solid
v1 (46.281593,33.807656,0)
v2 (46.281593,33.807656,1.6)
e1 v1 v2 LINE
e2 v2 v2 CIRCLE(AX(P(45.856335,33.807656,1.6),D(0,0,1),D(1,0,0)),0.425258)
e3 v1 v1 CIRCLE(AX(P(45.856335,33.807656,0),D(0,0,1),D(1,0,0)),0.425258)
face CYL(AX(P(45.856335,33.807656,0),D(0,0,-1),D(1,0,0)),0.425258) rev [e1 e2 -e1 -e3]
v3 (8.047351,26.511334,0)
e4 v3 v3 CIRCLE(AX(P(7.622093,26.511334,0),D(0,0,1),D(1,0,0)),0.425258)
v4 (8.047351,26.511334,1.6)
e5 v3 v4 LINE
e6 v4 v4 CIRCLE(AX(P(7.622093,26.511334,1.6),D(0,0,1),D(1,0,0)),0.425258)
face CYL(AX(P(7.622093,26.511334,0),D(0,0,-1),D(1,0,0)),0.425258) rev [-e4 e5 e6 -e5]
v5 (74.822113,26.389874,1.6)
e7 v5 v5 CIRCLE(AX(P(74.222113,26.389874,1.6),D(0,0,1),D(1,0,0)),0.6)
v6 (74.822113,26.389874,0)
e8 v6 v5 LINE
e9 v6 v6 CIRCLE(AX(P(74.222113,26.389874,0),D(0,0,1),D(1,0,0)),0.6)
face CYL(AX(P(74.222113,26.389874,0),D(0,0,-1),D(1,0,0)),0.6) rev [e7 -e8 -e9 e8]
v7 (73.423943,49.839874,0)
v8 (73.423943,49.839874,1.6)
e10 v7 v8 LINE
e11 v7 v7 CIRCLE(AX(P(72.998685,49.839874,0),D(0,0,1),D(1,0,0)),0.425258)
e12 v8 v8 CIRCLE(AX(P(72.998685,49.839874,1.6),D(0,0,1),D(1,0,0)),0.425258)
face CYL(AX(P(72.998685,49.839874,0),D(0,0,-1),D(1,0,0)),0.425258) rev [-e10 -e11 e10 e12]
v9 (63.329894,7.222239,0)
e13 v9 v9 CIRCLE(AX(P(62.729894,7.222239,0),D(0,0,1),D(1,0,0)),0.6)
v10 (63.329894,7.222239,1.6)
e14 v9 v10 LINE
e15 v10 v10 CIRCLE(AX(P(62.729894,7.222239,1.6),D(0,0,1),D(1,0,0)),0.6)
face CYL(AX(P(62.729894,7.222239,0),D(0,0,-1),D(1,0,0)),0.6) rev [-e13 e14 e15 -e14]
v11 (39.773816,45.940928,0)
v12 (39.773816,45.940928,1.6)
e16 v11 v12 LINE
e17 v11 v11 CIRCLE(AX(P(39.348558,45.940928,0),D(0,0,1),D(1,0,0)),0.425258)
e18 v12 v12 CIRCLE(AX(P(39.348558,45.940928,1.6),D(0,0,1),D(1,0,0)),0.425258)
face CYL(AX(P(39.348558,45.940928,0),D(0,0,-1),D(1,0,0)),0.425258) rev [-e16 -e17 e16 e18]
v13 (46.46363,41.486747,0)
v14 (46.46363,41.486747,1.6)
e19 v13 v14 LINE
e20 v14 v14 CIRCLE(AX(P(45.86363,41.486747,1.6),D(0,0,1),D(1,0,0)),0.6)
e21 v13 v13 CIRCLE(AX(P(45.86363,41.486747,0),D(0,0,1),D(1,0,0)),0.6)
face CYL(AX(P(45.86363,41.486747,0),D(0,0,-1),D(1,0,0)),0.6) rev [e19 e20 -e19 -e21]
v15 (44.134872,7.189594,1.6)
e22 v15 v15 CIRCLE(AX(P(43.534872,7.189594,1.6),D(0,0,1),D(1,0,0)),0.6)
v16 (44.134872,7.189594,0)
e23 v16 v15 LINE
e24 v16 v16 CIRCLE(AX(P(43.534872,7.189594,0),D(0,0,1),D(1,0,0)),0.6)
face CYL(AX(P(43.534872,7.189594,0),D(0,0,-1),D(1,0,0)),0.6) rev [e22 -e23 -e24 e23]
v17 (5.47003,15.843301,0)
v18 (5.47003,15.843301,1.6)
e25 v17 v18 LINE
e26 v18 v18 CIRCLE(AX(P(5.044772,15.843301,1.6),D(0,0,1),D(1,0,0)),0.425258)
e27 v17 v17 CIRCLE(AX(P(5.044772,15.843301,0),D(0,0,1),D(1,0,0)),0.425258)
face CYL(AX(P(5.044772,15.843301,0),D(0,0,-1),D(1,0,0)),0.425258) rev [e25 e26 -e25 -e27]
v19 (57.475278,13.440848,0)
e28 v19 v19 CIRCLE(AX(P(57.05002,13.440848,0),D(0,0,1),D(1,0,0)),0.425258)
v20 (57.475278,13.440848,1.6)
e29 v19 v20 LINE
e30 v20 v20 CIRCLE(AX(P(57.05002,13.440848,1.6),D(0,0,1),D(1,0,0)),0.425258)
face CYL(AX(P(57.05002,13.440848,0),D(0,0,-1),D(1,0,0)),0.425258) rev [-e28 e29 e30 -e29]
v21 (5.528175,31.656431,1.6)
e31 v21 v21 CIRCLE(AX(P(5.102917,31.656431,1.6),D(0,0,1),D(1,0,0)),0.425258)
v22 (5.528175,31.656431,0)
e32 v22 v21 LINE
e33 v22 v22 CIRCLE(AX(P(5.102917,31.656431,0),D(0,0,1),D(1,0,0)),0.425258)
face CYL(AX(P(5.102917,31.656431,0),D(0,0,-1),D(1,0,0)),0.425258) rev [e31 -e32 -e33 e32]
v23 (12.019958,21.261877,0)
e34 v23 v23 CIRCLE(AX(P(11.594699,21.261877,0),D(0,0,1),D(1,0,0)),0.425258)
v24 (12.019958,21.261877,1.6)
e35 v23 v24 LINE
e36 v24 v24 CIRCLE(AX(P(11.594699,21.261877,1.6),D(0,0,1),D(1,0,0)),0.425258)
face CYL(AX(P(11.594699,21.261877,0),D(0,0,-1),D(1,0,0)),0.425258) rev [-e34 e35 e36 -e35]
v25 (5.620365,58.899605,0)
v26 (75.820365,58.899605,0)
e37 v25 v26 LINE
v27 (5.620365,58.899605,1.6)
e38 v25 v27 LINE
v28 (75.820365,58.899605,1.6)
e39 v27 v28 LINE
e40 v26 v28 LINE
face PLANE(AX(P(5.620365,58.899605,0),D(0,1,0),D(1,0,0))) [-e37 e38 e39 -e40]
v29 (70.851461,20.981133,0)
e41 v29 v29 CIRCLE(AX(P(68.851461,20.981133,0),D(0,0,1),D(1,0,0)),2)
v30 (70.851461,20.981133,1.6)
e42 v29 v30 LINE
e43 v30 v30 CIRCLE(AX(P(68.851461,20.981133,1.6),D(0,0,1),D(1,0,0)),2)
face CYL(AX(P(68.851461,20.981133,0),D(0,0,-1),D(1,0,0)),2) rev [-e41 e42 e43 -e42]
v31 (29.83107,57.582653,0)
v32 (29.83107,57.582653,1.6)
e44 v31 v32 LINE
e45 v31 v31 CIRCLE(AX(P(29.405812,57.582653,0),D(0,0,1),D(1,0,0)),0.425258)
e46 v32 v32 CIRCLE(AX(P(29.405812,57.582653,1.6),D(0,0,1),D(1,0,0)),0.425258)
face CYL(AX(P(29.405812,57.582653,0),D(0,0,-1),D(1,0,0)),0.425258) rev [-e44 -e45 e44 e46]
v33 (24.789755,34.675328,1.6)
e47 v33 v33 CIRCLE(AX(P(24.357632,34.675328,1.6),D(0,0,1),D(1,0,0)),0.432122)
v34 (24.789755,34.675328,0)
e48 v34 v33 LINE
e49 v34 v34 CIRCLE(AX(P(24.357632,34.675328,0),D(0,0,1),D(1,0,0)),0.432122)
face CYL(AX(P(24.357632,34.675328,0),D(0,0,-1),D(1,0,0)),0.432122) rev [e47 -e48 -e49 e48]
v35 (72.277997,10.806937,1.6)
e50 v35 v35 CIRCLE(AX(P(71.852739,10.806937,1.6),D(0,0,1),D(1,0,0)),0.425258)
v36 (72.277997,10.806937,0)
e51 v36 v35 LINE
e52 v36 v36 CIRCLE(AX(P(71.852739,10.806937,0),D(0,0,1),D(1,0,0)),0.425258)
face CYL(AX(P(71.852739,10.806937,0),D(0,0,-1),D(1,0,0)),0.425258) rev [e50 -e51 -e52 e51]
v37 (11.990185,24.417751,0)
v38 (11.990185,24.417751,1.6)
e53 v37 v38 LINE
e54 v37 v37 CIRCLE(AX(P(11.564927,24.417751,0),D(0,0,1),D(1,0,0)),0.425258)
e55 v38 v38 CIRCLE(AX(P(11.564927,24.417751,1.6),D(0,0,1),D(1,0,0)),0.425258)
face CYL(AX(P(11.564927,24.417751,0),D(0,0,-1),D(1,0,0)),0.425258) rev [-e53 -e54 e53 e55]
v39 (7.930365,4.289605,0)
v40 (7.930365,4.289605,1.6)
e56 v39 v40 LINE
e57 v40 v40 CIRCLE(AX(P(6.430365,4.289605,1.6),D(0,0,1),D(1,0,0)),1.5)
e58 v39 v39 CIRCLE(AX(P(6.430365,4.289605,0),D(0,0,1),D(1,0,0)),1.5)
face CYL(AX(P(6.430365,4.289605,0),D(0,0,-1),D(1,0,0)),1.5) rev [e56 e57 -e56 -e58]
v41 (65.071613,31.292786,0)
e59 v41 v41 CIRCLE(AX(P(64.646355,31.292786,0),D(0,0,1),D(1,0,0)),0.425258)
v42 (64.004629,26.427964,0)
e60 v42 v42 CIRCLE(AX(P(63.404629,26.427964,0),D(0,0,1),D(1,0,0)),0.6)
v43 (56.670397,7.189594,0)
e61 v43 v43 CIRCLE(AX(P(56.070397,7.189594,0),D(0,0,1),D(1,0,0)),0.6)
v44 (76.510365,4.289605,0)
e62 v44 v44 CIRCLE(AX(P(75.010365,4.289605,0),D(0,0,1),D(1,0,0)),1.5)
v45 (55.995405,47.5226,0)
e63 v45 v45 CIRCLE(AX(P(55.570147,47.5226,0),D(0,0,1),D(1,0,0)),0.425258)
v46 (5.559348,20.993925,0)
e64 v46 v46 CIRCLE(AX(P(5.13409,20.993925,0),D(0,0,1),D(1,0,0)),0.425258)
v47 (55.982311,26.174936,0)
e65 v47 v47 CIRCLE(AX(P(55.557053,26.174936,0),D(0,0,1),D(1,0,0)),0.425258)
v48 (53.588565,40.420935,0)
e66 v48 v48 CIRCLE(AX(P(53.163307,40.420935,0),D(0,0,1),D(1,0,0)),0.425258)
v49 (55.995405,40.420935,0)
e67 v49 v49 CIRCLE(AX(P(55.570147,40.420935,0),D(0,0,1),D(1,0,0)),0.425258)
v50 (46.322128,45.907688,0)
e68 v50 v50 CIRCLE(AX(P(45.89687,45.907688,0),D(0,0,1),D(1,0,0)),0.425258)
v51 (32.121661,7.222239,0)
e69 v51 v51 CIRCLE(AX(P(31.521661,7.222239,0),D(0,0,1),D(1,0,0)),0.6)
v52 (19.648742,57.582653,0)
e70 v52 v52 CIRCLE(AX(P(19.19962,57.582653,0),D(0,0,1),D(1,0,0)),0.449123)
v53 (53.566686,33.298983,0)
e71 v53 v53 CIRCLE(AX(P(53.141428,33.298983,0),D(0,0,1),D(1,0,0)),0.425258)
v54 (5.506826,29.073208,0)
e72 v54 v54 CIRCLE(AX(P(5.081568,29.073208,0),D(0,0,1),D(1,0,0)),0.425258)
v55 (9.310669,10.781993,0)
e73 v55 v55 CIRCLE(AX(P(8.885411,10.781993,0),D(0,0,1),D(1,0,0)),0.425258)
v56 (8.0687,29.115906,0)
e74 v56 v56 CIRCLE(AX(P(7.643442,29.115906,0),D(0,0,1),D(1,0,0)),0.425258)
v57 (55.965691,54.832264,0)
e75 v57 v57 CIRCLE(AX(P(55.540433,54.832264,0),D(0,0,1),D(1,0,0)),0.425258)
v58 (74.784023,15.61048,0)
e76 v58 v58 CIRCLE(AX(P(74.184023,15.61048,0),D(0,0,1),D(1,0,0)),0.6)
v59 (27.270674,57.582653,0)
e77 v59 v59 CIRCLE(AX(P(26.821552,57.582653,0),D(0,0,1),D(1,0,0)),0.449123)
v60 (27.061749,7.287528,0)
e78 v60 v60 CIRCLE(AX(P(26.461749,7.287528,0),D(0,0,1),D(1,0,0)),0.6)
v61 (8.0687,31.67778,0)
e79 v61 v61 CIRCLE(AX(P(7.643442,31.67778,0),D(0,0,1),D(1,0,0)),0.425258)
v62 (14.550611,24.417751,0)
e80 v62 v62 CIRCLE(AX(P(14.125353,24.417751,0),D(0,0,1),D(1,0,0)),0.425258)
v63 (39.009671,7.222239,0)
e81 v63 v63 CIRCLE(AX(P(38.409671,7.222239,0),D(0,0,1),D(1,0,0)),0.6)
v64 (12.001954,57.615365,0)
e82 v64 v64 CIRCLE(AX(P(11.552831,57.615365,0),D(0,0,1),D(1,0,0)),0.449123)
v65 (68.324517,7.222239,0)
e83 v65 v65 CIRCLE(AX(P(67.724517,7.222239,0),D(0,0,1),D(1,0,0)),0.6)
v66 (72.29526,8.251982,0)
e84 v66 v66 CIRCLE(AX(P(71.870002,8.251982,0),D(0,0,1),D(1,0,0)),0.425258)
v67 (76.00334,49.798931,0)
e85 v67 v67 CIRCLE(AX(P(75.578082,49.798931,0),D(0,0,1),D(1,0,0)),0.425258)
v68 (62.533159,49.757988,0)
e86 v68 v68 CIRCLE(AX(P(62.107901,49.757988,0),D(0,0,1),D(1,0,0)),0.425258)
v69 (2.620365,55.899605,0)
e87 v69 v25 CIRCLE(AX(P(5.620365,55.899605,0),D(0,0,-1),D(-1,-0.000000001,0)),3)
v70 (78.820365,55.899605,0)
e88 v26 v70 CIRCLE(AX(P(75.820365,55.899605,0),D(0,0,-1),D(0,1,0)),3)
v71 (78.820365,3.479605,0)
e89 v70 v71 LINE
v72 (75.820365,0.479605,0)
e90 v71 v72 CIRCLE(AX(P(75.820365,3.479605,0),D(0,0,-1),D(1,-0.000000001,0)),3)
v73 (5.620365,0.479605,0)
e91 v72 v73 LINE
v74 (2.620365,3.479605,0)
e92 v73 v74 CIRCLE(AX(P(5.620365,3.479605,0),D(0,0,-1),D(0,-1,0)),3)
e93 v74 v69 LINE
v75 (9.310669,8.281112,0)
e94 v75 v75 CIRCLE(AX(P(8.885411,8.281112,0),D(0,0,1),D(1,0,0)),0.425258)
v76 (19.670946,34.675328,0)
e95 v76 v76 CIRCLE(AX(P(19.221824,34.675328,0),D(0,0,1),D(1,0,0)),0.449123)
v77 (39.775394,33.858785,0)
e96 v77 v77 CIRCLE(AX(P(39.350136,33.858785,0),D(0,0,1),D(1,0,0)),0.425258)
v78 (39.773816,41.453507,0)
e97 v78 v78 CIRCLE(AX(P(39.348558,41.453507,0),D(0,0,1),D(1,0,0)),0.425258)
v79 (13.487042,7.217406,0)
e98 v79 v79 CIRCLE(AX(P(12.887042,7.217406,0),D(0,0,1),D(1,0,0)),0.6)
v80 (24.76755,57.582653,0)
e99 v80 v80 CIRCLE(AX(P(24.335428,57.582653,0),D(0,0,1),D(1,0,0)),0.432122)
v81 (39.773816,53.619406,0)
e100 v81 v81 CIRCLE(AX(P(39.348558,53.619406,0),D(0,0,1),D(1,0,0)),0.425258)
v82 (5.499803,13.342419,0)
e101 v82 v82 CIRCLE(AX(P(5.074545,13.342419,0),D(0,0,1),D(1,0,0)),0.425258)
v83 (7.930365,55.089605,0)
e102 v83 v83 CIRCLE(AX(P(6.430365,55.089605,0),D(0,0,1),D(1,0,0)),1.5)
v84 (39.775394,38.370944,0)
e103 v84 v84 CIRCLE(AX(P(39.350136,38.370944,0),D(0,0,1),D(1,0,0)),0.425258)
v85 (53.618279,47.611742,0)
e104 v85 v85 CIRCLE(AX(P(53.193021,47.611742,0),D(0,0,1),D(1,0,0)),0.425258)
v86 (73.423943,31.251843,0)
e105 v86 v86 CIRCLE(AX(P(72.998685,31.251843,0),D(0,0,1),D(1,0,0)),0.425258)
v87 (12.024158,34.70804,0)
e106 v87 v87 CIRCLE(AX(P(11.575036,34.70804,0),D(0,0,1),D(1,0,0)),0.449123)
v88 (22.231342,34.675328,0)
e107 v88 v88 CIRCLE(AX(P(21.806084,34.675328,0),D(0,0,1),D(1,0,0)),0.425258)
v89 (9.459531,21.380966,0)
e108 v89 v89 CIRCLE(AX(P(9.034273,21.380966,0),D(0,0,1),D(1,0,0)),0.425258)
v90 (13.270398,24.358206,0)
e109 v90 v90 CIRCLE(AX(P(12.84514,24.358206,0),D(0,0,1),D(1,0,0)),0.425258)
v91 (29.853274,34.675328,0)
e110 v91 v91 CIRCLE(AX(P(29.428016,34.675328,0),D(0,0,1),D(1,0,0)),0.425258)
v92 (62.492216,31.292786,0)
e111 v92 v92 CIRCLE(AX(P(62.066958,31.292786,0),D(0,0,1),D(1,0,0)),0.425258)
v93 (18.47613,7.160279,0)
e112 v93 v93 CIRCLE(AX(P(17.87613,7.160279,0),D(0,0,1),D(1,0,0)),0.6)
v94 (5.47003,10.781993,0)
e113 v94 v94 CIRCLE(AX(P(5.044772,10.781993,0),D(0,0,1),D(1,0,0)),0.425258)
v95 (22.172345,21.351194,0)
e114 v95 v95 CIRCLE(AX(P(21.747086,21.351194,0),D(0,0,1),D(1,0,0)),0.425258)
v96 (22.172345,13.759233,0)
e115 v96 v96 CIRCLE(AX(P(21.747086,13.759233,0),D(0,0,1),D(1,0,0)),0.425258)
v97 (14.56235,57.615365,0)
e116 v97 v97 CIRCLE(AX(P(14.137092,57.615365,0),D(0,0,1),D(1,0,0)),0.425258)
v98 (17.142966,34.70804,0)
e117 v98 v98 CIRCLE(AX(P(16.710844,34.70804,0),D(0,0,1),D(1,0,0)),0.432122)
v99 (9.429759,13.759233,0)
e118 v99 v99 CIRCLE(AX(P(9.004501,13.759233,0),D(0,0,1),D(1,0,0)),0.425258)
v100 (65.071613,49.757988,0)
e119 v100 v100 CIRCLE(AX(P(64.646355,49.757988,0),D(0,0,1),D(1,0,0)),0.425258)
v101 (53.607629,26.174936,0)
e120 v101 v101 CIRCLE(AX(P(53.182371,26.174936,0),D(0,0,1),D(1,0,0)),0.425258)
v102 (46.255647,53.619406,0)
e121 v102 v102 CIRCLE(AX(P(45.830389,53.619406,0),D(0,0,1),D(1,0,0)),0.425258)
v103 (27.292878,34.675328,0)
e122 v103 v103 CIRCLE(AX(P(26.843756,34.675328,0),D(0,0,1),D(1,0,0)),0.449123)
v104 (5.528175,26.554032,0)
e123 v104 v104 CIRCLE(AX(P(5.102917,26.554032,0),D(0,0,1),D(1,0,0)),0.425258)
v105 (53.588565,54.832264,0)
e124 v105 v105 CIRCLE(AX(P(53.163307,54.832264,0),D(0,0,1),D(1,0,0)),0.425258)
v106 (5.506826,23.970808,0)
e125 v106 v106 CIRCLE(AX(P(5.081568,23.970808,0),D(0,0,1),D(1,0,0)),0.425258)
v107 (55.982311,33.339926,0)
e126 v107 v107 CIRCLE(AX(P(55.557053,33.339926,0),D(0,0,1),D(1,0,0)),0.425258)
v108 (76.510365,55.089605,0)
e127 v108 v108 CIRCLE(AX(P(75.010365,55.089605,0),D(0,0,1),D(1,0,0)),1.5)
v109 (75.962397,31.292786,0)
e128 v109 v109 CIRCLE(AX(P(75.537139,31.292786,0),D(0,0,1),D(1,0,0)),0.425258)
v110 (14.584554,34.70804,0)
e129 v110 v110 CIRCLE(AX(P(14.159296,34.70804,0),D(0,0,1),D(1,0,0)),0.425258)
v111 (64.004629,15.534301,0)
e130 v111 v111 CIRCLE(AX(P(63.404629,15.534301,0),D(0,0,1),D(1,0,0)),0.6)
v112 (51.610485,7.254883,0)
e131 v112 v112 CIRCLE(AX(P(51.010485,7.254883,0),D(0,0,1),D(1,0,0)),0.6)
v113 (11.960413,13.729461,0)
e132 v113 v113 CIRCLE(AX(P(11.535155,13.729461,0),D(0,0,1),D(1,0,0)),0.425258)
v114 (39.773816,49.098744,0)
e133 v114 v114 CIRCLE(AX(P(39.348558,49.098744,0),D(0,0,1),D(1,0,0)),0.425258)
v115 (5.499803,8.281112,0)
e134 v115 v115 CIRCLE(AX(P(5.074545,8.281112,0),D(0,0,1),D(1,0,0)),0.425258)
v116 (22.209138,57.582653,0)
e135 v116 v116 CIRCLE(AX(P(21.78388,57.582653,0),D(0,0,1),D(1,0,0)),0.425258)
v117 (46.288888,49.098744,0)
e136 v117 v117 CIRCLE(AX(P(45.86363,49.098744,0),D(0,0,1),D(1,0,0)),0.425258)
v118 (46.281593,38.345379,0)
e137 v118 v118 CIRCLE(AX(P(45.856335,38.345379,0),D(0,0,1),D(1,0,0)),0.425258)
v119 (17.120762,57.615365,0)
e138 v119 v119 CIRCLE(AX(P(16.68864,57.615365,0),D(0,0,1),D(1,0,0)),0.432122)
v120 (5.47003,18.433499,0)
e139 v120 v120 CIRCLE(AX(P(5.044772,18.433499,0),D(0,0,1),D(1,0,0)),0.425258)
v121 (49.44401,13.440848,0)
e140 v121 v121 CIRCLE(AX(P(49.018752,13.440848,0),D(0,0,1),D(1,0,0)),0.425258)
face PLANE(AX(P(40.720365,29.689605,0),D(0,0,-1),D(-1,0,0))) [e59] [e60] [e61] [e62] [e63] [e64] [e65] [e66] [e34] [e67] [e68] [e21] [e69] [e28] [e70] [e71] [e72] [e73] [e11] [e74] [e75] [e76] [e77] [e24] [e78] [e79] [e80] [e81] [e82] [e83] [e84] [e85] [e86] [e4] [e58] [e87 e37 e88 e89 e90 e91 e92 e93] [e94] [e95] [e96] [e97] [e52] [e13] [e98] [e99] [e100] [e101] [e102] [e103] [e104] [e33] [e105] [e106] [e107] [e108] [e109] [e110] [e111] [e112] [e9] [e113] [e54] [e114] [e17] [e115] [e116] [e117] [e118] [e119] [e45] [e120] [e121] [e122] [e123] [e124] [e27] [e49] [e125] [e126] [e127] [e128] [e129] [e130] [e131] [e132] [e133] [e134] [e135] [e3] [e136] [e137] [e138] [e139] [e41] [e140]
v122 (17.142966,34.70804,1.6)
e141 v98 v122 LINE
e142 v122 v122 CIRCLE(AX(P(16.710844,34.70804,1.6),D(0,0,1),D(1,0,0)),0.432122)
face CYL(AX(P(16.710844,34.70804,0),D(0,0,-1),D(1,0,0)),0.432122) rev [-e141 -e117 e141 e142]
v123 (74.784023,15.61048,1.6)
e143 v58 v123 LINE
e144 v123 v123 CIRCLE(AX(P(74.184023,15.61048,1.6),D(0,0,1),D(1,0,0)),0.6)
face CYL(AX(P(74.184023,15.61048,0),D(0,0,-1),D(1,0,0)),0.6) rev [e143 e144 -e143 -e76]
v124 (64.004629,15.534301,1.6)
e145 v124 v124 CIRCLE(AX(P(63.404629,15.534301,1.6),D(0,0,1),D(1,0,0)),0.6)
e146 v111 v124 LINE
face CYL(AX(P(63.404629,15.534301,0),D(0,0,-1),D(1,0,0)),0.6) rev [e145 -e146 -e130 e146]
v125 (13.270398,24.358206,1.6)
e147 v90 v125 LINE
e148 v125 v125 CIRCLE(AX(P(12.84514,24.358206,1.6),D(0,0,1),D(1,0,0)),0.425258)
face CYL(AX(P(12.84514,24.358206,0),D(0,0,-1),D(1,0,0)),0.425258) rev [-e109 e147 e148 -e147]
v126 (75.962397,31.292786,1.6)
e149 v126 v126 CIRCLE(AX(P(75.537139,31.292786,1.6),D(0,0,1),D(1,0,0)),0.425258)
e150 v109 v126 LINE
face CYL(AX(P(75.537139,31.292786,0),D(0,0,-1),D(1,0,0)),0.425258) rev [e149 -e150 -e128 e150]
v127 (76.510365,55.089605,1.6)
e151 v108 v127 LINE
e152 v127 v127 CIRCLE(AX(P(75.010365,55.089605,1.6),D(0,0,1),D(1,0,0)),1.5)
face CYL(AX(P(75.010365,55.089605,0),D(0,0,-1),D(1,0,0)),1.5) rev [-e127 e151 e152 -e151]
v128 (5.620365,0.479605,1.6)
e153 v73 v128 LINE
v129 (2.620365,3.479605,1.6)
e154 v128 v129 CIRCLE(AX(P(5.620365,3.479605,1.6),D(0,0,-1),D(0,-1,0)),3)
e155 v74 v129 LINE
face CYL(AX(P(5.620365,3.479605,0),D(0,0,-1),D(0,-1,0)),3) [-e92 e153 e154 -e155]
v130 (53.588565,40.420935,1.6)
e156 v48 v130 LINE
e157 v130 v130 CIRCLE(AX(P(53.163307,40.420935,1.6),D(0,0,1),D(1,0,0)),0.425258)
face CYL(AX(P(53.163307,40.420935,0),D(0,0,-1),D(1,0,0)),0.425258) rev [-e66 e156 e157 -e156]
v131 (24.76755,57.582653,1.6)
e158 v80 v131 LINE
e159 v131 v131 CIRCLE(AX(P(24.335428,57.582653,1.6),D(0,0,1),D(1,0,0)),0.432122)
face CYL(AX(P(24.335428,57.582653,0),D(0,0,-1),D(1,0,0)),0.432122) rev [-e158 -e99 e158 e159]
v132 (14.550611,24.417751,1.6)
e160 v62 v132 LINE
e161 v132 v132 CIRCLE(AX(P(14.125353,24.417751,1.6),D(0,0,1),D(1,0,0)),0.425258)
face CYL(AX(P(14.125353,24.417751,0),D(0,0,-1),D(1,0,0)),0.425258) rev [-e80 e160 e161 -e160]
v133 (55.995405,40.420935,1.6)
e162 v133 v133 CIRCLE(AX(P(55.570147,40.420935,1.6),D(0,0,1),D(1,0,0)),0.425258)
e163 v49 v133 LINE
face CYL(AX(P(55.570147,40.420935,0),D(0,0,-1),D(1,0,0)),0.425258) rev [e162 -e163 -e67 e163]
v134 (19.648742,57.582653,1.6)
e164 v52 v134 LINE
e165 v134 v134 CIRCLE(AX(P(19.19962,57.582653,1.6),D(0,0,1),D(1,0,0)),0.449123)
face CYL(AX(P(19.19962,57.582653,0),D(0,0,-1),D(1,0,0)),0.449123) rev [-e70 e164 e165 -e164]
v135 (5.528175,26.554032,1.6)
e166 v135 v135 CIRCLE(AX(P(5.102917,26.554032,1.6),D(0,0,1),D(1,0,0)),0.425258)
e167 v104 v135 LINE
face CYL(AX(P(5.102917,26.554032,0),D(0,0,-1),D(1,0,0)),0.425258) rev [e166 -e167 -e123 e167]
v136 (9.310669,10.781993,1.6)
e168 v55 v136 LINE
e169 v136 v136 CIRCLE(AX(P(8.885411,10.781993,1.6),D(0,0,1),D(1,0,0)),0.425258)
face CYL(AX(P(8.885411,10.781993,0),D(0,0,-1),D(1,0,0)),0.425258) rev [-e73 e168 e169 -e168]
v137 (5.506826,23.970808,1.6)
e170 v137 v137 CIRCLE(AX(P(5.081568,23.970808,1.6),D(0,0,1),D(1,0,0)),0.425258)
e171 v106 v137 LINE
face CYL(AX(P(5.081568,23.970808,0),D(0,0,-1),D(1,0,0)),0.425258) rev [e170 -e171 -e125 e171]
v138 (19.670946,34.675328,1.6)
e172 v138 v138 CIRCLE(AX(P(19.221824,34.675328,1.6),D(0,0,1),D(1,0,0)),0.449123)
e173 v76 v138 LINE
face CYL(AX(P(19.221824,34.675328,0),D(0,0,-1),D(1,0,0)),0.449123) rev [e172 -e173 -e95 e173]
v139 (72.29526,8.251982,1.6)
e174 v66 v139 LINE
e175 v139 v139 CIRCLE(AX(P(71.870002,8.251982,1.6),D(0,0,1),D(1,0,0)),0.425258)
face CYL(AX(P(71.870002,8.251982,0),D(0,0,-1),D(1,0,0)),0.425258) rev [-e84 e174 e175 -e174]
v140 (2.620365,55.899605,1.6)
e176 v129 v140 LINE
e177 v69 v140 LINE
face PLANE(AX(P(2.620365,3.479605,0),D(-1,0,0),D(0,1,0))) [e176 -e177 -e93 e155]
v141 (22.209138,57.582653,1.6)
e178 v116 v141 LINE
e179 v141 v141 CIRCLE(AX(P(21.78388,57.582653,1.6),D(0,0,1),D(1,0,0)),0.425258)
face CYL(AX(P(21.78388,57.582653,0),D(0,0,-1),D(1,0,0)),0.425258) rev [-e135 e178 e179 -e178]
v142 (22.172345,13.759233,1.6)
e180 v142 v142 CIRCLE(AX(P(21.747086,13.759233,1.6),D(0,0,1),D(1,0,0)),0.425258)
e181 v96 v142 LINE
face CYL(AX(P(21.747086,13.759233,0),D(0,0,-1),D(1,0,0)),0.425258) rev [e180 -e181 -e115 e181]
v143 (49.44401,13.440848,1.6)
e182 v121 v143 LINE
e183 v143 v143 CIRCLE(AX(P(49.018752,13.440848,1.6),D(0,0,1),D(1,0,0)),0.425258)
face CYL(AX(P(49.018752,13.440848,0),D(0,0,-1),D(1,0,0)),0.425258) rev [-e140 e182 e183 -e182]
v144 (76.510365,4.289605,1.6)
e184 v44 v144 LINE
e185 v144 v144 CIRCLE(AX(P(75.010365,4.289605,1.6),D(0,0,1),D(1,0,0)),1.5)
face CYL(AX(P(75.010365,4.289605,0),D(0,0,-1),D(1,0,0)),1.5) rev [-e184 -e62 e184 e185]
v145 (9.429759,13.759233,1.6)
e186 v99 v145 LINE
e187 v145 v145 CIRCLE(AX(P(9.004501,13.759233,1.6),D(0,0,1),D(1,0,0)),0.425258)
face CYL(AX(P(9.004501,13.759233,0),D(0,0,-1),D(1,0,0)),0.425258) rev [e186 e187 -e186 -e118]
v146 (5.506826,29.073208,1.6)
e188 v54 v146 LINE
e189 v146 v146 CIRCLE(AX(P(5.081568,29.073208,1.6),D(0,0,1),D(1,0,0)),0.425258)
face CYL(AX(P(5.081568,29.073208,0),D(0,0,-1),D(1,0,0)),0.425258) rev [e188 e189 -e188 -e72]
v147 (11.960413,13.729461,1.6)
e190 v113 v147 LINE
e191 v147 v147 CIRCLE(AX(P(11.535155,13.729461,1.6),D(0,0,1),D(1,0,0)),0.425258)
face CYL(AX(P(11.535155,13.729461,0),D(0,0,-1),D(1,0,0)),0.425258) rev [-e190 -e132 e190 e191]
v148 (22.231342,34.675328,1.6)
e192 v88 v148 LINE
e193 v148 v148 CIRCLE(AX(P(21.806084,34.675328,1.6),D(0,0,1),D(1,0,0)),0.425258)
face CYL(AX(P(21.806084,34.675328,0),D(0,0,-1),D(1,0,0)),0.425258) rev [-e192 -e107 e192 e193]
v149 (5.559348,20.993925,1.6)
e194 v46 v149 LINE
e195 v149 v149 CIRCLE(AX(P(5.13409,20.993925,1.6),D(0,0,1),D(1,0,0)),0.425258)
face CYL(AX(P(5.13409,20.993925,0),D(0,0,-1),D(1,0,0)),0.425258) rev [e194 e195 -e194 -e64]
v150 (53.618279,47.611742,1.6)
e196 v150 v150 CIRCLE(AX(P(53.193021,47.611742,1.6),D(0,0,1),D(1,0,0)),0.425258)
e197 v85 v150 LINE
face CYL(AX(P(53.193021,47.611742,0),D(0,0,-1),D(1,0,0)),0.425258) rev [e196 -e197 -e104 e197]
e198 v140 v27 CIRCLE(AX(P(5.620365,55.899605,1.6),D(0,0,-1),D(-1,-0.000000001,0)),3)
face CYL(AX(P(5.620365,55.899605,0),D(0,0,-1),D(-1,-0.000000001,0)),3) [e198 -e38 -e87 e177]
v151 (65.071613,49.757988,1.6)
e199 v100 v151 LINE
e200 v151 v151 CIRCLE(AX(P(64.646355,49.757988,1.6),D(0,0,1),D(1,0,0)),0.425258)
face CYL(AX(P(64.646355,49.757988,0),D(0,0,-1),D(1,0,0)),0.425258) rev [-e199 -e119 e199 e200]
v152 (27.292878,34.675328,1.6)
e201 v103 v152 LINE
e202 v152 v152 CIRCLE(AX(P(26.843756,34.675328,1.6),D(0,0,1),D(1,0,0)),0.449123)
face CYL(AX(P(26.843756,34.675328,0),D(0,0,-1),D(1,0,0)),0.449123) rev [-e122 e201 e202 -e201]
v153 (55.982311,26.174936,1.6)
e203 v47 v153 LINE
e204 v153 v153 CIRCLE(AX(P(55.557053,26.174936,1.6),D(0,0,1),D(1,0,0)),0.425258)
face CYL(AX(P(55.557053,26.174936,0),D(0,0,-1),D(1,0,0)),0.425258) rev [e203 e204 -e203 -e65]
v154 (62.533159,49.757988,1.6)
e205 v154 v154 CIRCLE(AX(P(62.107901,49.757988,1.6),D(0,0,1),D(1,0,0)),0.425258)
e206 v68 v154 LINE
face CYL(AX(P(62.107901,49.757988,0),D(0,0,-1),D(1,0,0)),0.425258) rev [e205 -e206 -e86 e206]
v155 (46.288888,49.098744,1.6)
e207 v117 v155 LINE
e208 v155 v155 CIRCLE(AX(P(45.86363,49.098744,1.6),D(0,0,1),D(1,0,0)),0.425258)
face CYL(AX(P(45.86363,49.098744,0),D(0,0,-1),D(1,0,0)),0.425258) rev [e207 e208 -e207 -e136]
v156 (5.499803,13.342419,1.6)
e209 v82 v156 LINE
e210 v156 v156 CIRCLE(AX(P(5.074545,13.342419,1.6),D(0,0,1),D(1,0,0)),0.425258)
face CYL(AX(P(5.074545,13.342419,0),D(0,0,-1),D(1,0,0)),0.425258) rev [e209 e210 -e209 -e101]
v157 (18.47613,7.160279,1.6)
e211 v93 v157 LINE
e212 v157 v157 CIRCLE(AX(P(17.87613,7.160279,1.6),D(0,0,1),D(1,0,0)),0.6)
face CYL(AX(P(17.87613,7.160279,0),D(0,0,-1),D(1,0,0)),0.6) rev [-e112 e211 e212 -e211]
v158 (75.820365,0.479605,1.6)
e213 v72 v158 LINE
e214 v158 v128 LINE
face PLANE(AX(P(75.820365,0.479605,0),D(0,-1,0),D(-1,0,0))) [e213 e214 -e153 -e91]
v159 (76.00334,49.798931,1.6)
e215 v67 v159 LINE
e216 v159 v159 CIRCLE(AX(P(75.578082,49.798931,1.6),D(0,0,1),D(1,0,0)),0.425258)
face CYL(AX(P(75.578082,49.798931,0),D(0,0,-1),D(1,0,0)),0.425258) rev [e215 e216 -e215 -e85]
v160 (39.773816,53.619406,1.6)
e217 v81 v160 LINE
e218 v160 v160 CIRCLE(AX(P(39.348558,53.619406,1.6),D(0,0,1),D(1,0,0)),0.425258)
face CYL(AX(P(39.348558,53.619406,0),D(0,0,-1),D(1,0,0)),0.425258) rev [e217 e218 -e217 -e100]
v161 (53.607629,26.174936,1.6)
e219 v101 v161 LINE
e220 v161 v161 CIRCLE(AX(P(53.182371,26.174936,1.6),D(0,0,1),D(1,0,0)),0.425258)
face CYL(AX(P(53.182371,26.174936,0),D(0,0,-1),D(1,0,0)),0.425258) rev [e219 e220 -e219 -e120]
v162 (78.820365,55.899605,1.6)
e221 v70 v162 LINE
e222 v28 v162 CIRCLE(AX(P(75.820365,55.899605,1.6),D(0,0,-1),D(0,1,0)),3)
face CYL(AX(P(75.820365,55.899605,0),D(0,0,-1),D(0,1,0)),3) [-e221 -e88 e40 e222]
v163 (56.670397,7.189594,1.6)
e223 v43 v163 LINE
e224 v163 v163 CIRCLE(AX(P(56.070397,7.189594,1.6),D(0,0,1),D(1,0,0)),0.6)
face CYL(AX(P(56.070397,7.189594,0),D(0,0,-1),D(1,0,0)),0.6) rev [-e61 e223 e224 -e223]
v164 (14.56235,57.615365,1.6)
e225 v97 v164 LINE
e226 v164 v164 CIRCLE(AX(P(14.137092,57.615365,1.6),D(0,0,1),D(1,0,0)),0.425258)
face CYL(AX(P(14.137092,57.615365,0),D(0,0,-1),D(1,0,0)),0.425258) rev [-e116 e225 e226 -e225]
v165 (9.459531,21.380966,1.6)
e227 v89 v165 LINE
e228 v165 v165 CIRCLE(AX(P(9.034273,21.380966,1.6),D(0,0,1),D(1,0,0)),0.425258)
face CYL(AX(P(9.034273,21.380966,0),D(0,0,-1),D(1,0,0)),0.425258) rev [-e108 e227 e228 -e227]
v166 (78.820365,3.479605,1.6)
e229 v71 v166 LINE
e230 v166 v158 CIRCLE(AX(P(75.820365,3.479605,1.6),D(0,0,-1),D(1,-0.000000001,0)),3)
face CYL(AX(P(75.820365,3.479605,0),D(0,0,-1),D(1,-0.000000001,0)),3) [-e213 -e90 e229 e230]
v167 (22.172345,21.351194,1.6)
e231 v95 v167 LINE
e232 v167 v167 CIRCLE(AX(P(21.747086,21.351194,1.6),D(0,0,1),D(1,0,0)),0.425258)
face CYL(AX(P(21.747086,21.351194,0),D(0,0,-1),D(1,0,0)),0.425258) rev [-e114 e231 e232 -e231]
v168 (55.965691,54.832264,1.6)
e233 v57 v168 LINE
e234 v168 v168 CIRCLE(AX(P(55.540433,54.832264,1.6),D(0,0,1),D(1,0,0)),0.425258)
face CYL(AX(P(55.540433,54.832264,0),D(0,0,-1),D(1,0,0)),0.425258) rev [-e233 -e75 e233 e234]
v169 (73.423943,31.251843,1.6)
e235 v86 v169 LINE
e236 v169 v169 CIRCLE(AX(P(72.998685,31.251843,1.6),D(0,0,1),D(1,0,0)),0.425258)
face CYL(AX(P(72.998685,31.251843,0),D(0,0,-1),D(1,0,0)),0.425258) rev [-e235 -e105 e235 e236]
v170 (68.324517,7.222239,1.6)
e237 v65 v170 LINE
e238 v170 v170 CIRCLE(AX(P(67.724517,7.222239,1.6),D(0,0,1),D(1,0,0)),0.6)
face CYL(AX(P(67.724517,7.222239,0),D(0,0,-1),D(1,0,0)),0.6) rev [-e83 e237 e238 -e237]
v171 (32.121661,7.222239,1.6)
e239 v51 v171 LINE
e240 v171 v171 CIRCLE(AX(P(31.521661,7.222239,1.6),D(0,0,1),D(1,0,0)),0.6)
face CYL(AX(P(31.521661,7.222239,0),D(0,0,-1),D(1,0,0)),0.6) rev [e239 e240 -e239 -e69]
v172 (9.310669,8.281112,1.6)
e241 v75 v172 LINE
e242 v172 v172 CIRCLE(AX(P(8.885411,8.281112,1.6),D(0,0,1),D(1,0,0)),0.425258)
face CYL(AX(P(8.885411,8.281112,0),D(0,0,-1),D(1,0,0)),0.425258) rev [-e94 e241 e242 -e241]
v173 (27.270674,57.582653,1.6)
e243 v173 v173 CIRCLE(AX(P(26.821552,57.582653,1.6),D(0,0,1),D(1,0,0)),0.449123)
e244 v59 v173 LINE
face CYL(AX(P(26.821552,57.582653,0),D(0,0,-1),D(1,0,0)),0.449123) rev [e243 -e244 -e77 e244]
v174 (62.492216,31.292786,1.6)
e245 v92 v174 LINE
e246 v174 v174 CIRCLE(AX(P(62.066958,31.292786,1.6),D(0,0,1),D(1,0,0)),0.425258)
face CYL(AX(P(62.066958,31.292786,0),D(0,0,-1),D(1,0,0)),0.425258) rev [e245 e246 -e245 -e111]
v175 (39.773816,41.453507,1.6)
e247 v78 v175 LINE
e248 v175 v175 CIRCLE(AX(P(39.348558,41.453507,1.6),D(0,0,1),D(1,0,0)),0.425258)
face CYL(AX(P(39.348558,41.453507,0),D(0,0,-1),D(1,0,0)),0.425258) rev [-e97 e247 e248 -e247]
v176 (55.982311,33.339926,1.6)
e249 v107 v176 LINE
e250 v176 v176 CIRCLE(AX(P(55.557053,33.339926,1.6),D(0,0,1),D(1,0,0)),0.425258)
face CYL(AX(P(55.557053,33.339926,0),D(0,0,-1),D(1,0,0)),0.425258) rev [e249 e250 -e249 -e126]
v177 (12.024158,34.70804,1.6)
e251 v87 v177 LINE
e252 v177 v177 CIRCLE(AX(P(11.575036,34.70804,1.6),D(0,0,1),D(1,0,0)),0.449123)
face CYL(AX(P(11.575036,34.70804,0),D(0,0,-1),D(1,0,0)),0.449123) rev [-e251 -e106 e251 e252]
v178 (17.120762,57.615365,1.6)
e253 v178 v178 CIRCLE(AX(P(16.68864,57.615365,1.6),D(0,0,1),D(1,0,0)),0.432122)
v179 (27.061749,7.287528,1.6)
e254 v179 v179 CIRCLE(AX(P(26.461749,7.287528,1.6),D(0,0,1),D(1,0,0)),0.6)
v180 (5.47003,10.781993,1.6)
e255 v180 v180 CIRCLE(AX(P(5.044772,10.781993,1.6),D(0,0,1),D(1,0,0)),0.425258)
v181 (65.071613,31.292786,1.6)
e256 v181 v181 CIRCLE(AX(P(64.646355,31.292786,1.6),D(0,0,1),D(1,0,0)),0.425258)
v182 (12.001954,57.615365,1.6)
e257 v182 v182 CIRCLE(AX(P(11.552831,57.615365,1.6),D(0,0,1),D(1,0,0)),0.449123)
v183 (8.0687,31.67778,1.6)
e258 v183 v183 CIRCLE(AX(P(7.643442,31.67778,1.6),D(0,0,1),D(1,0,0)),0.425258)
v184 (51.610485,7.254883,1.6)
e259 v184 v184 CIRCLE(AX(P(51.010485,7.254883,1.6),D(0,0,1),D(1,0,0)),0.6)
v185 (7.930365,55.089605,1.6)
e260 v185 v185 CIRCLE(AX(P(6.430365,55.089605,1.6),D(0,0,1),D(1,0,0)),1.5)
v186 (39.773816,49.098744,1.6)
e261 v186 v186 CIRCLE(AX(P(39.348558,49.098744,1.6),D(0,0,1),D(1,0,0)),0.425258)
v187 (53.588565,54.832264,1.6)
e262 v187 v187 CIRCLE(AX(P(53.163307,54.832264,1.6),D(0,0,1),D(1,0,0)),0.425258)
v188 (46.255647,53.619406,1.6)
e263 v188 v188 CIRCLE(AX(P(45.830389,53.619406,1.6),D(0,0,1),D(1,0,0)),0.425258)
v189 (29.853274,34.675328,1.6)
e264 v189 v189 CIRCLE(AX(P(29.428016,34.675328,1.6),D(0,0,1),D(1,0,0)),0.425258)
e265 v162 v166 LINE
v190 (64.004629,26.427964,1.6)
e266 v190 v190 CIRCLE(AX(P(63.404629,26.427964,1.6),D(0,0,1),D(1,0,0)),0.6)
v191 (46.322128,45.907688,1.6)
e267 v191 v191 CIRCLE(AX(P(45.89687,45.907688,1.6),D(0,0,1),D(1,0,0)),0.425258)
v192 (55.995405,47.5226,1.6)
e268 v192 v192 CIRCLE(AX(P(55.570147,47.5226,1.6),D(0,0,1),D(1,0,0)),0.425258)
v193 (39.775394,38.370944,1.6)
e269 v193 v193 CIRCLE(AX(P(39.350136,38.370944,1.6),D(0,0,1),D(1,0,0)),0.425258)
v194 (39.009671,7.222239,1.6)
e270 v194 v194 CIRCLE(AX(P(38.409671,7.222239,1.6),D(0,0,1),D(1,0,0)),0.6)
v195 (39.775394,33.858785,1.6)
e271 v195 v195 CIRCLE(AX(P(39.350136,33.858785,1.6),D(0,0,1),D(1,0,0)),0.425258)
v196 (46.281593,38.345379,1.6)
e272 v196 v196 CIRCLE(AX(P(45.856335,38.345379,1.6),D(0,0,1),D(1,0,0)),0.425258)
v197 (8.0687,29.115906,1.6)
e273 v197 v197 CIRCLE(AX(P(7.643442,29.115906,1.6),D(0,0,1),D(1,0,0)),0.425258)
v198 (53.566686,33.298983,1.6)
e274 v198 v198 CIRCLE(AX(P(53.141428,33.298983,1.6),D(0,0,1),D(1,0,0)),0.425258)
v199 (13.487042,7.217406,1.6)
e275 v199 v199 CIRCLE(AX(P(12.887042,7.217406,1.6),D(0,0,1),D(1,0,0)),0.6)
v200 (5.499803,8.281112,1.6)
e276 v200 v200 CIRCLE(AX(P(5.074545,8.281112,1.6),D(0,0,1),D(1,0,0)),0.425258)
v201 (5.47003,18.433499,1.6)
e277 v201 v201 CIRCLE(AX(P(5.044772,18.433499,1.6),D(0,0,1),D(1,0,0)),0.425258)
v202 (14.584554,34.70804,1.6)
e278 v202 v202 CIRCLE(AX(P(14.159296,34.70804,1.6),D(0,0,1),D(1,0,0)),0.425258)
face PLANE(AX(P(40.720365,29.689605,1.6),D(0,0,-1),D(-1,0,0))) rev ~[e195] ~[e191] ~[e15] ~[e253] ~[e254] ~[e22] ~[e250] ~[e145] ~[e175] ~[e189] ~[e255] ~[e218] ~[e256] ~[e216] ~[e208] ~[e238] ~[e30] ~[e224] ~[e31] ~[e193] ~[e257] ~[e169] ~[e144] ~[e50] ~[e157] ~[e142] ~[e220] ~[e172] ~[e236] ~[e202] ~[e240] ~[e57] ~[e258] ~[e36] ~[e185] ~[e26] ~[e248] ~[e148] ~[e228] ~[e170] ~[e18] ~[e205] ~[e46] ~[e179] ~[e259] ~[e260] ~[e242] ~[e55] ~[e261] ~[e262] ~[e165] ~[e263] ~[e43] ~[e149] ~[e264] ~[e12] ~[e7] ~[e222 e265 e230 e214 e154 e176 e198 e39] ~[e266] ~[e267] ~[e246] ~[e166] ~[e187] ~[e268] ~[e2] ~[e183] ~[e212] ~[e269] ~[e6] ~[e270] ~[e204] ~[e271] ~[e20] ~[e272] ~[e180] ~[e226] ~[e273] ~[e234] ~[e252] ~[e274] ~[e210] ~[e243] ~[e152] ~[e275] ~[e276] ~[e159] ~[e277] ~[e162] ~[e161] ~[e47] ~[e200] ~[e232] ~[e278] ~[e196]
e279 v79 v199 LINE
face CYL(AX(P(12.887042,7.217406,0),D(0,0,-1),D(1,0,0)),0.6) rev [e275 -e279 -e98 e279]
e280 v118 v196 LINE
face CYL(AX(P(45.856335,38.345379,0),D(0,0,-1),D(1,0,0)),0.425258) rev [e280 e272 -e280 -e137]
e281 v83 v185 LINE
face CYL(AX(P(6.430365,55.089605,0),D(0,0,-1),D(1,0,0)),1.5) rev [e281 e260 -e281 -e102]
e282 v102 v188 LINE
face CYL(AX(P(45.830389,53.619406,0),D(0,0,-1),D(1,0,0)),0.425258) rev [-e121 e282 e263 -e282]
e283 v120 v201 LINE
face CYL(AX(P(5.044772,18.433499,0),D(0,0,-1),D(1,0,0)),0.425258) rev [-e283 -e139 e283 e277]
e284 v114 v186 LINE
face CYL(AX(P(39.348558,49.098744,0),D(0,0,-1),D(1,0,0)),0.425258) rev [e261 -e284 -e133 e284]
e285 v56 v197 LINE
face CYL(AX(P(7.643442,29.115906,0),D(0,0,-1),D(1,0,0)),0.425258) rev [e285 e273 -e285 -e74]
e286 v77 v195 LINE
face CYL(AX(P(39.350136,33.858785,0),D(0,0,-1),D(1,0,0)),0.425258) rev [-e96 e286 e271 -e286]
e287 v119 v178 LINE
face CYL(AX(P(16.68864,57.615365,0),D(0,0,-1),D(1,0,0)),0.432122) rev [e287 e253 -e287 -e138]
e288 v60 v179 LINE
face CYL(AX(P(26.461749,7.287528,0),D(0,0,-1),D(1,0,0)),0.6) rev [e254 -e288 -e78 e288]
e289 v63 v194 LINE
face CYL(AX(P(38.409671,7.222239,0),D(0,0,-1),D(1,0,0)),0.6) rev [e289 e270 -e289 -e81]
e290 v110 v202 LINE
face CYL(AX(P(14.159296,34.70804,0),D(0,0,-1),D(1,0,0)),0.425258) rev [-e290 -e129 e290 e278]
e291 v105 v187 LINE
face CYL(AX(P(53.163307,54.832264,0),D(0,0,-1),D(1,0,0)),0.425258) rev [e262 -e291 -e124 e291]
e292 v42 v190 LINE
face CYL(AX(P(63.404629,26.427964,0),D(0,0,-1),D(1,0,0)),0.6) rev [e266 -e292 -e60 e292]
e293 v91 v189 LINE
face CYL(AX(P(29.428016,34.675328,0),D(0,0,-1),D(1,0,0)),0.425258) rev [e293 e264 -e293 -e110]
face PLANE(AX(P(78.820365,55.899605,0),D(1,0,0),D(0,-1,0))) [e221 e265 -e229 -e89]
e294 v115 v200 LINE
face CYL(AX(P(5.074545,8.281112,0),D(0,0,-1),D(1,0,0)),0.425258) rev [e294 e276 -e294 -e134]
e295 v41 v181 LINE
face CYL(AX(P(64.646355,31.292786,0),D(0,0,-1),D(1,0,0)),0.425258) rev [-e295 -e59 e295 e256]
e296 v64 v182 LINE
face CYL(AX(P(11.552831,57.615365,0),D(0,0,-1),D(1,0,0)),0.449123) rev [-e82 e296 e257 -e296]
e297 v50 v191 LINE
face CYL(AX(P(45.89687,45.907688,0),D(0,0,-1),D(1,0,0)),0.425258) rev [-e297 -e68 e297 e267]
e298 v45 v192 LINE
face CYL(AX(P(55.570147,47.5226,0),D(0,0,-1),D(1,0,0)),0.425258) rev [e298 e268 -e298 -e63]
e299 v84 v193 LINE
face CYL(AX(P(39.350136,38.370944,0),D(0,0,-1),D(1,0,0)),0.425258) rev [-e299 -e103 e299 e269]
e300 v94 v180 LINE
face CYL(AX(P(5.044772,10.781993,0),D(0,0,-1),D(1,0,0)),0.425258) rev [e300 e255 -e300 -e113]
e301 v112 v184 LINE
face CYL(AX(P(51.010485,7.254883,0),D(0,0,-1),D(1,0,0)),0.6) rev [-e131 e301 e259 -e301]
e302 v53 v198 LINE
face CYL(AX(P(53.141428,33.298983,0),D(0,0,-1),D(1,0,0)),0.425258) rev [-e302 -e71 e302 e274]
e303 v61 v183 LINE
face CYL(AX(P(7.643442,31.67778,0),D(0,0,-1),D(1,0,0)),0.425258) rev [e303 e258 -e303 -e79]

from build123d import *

# Parameters (mm, degrees)
ESQUISSE1_R        = 1.5
ESQUISSE1_R_2      = 0.449122519
ESQUISSE1_R_3      = 0.425258014
ESQUISSE1_R_4      = 0.43212249
ESQUISSE1_R_5      = 0.6
ESQUISSE1_R_6      = 2
BOSS_EXTRU_1_DEPTH = 1.6


with BuildPart() as part:
    # Esquisse1 → Boss.-Extru.1 (new body)
    with BuildSketch(Plane.XY):
        with BuildLine():
            Line((5.620364973, 58.899605158), (75.820364973, 58.899605158))
            ThreePointArc((75.820364973, 58.899605158), (77.941685316, 58.020925502), (78.820364973, 55.899605158))
            Line((78.820364973, 55.899605158), (78.820364973, 3.479605158))
            ThreePointArc((78.820364973, 3.479605158), (77.941685316, 1.358284815), (75.820364973, 0.479605158))
            Line((75.820364973, 0.479605158), (5.620364973, 0.479605158))
            ThreePointArc((5.620364973, 0.479605158), (3.499044629, 1.358284815), (2.620364973, 3.479605158))
            Line((2.620364973, 3.479605158), (2.620364973, 55.899605158))
            ThreePointArc((2.620364973, 55.899605158), (3.499044629, 58.020925502), (5.620364973, 58.899605158))
        make_face()
        with Locations((6.430364973, 55.089605158)):
            Circle(ESQUISSE1_R, mode=Mode.SUBTRACT)
        with Locations((75.010364973, 4.289605158)):
            Circle(ESQUISSE1_R, mode=Mode.SUBTRACT)
        with Locations((6.430364973, 4.289605158)):
            Circle(ESQUISSE1_R, mode=Mode.SUBTRACT)
        with Locations((75.010364973, 55.089605158)):
            Circle(ESQUISSE1_R, mode=Mode.SUBTRACT)
        with Locations((11.552831362, 57.615365404)):
            Circle(ESQUISSE1_R_2, mode=Mode.SUBTRACT)
        with Locations((14.1370916, 57.615365404)):
            Circle(ESQUISSE1_R_3, mode=Mode.SUBTRACT)
        with Locations((16.688639683, 57.615365404)):
            Circle(ESQUISSE1_R_4, mode=Mode.SUBTRACT)
        with Locations((19.199619548, 57.582653249)):
            Circle(ESQUISSE1_R_2, mode=Mode.SUBTRACT)
        with Locations((21.783879785, 57.582653249)):
            Circle(ESQUISSE1_R_3, mode=Mode.SUBTRACT)
        with Locations((24.335427868, 57.582653249)):
            Circle(ESQUISSE1_R_4, mode=Mode.SUBTRACT)
        with Locations((26.821551641, 57.582653249)):
            Circle(ESQUISSE1_R_2, mode=Mode.SUBTRACT)
        with Locations((29.405811879, 57.582653249)):
            Circle(ESQUISSE1_R_3, mode=Mode.SUBTRACT)
        with Locations((11.575035578, 34.708039908)):
            Circle(ESQUISSE1_R_2, mode=Mode.SUBTRACT)
        with Locations((14.159295816, 34.708039908)):
            Circle(ESQUISSE1_R_3, mode=Mode.SUBTRACT)
        with Locations((16.710843899, 34.708039908)):
            Circle(ESQUISSE1_R_4, mode=Mode.SUBTRACT)
        with Locations((19.221823764, 34.675327753)):
            Circle(ESQUISSE1_R_2, mode=Mode.SUBTRACT)
        with Locations((21.806084001, 34.675327753)):
            Circle(ESQUISSE1_R_3, mode=Mode.SUBTRACT)
        with Locations((24.357632084, 34.675327753)):
            Circle(ESQUISSE1_R_4, mode=Mode.SUBTRACT)
        with Locations((26.843755857, 34.675327753)):
            Circle(ESQUISSE1_R_2, mode=Mode.SUBTRACT)
        with Locations((29.428016095, 34.675327753)):
            Circle(ESQUISSE1_R_3, mode=Mode.SUBTRACT)
        with Locations((53.163306818, 54.832264293)):
            Circle(ESQUISSE1_R_3, mode=Mode.SUBTRACT)
        with Locations((55.540433341, 54.832264293)):
            Circle(ESQUISSE1_R_3, mode=Mode.SUBTRACT)
        with Locations((55.570147422, 47.522600237)):
            Circle(ESQUISSE1_R_3, mode=Mode.SUBTRACT)
        with Locations((53.1930209, 47.611742482)):
            Circle(ESQUISSE1_R_3, mode=Mode.SUBTRACT)
        with Locations((53.163306818, 40.420934752)):
            Circle(ESQUISSE1_R_3, mode=Mode.SUBTRACT)
        with Locations((55.570147422, 40.420934752)):
            Circle(ESQUISSE1_R_3, mode=Mode.SUBTRACT)
        with Locations((53.14142812, 33.298983102)):
            Circle(ESQUISSE1_R_3, mode=Mode.SUBTRACT)
        with Locations((55.557053239, 33.3399259)):
            Circle(ESQUISSE1_R_3, mode=Mode.SUBTRACT)
        with Locations((55.557053239, 26.17493614)):
            Circle(ESQUISSE1_R_3, mode=Mode.SUBTRACT)
        with Locations((53.182370918, 26.17493614)):
            Circle(ESQUISSE1_R_3, mode=Mode.SUBTRACT)
        with Locations((62.066958221, 31.292785969)):
            Circle(ESQUISSE1_R_3, mode=Mode.SUBTRACT)
        with Locations((64.646354535, 31.292785969)):
            Circle(ESQUISSE1_R_3, mode=Mode.SUBTRACT)
        with Locations((72.998685456, 31.25184317)):
            Circle(ESQUISSE1_R_3, mode=Mode.SUBTRACT)
        with Locations((75.537138971, 31.292785969)):
            Circle(ESQUISSE1_R_3, mode=Mode.SUBTRACT)
        with Locations((75.57808177, 49.79893095)):
            Circle(ESQUISSE1_R_3, mode=Mode.SUBTRACT)
        with Locations((72.998685456, 49.839873749)):
            Circle(ESQUISSE1_R_3, mode=Mode.SUBTRACT)
        with Locations((64.646354535, 49.757988152)):
            Circle(ESQUISSE1_R_3, mode=Mode.SUBTRACT)
        with Locations((62.10790102, 49.757988152)):
            Circle(ESQUISSE1_R_3, mode=Mode.SUBTRACT)
        with Locations((49.018752461, 13.440847602)):
            Circle(ESQUISSE1_R_3, mode=Mode.SUBTRACT)
        with Locations((57.05002029, 13.440847602)):
            Circle(ESQUISSE1_R_3, mode=Mode.SUBTRACT)
        with Locations((5.102916939, 31.656431458)):
            Circle(ESQUISSE1_R_3, mode=Mode.SUBTRACT)
        with Locations((7.643442377, 31.677780411)):
            Circle(ESQUISSE1_R_3, mode=Mode.SUBTRACT)
        with Locations((7.643442377, 29.115906021)):
            Circle(ESQUISSE1_R_3, mode=Mode.SUBTRACT)
        with Locations((7.622093423, 26.511333724)):
            Circle(ESQUISSE1_R_3, mode=Mode.SUBTRACT)
        with Locations((5.102916939, 26.55403163)):
            Circle(ESQUISSE1_R_3, mode=Mode.SUBTRACT)
        with Locations((5.081567986, 29.073208114)):
            Circle(ESQUISSE1_R_3, mode=Mode.SUBTRACT)
        with Locations((5.081567986, 23.970808287)):
            Circle(ESQUISSE1_R_3, mode=Mode.SUBTRACT)
        with Locations((11.56492709, 24.417750649)):
            Circle(ESQUISSE1_R_3, mode=Mode.SUBTRACT)
        with Locations((12.845140115, 24.358205857)):
            Circle(ESQUISSE1_R_3, mode=Mode.SUBTRACT)
        with Locations((14.12535314, 24.417750649)):
            Circle(ESQUISSE1_R_3, mode=Mode.SUBTRACT)
        with Locations((5.134089571, 20.993925117)):
            Circle(ESQUISSE1_R_3, mode=Mode.SUBTRACT)
        with Locations((5.044772383, 18.433499068)):
            Circle(ESQUISSE1_R_3, mode=Mode.SUBTRACT)
        with Locations((5.044772383, 15.843300623)):
            Circle(ESQUISSE1_R_3, mode=Mode.SUBTRACT)
        with Locations((5.074544779, 13.342419365)):
            Circle(ESQUISSE1_R_3, mode=Mode.SUBTRACT)
        with Locations((5.044772383, 10.781993316)):
            Circle(ESQUISSE1_R_3, mode=Mode.SUBTRACT)
        with Locations((5.074544779, 8.281112058)):
            Circle(ESQUISSE1_R_3, mode=Mode.SUBTRACT)
        with Locations((9.004501041, 13.759232908)):
            Circle(ESQUISSE1_R_3, mode=Mode.SUBTRACT)
        with Locations((9.034273437, 21.380966264)):
            Circle(ESQUISSE1_R_3, mode=Mode.SUBTRACT)
        with Locations((11.594699486, 21.261876681)):
            Circle(ESQUISSE1_R_3, mode=Mode.SUBTRACT)
        with Locations((21.747086496, 21.351193868)):
            Circle(ESQUISSE1_R_3, mode=Mode.SUBTRACT)
        with Locations((21.747086496, 13.759232908)):
            Circle(ESQUISSE1_R_3, mode=Mode.SUBTRACT)
        with Locations((11.535154694, 13.729460512)):
            Circle(ESQUISSE1_R_3, mode=Mode.SUBTRACT)
        with Locations((8.885411457, 10.781993316)):
            Circle(ESQUISSE1_R_3, mode=Mode.SUBTRACT)
        with Locations((8.885411457, 8.281112058)):
            Circle(ESQUISSE1_R_3, mode=Mode.SUBTRACT)
        with Locations((39.348557903, 53.619405616)):
            Circle(ESQUISSE1_R_3, mode=Mode.SUBTRACT)
        with Locations((45.83038937, 53.619405616)):
            Circle(ESQUISSE1_R_3, mode=Mode.SUBTRACT)
        with Locations((45.863629531, 49.09874367)):
            Circle(ESQUISSE1_R_3, mode=Mode.SUBTRACT)
        with Locations((39.348557903, 49.09874367)):
            Circle(ESQUISSE1_R_3, mode=Mode.SUBTRACT)
        with Locations((39.348557903, 45.94092834)):
            Circle(ESQUISSE1_R_3, mode=Mode.SUBTRACT)
        with Locations((45.896869692, 45.907688179)):
            Circle(ESQUISSE1_R_3, mode=Mode.SUBTRACT)
        with Locations((45.863629531, 41.486746717)):
            Circle(ESQUISSE1_R_5, mode=Mode.SUBTRACT)
        with Locations((39.348557903, 41.453506556)):
            Circle(ESQUISSE1_R_3, mode=Mode.SUBTRACT)
        with Locations((45.856335407, 38.34537897)):
            Circle(ESQUISSE1_R_3, mode=Mode.SUBTRACT)
        with Locations((39.350135574, 38.370943606)):
            Circle(ESQUISSE1_R_3, mode=Mode.SUBTRACT)
        with Locations((39.350135574, 33.858785372)):
            Circle(ESQUISSE1_R_3, mode=Mode.SUBTRACT)
        with Locations((45.856335407, 33.8076561)):
            Circle(ESQUISSE1_R_3, mode=Mode.SUBTRACT)
        with Locations((71.852738685, 10.806937061)):
            Circle(ESQUISSE1_R_3, mode=Mode.SUBTRACT)
        with Locations((71.870001894, 8.251982162)):
            Circle(ESQUISSE1_R_3, mode=Mode.SUBTRACT)
        with Locations((12.887042224, 7.217406275)):
            Circle(ESQUISSE1_R_5, mode=Mode.SUBTRACT)
        with Locations((17.87612986, 7.160279318)):
            Circle(ESQUISSE1_R_5, mode=Mode.SUBTRACT)
        with Locations((26.461748825, 7.28752809)):
            Circle(ESQUISSE1_R_5, mode=Mode.SUBTRACT)
        with Locations((31.521661116, 7.222238899)):
            Circle(ESQUISSE1_R_5, mode=Mode.SUBTRACT)
        with Locations((38.409670751, 7.222238899)):
            Circle(ESQUISSE1_R_5, mode=Mode.SUBTRACT)
        with Locations((43.534872233, 7.189594304)):
            Circle(ESQUISSE1_R_5, mode=Mode.SUBTRACT)
        with Locations((51.010484586, 7.254883494)):
            Circle(ESQUISSE1_R_5, mode=Mode.SUBTRACT)
        with Locations((56.070396878, 7.189594304)):
            Circle(ESQUISSE1_R_5, mode=Mode.SUBTRACT)
        with Locations((62.729894345, 7.222238899)):
            Circle(ESQUISSE1_R_5, mode=Mode.SUBTRACT)
        with Locations((67.724517445, 7.222238899)):
            Circle(ESQUISSE1_R_5, mode=Mode.SUBTRACT)
        with Locations((63.404629266, 26.427964058)):
            Circle(ESQUISSE1_R_5, mode=Mode.SUBTRACT)
        with Locations((74.222112873, 26.389874327)):
            Circle(ESQUISSE1_R_5, mode=Mode.SUBTRACT)
        with Locations((74.184023142, 15.610480451)):
            Circle(ESQUISSE1_R_5, mode=Mode.SUBTRACT)
        with Locations((63.404629266, 15.534300989)):
            Circle(ESQUISSE1_R_5, mode=Mode.SUBTRACT)
        with Locations((68.851460801, 20.981132523)):
            Circle(ESQUISSE1_R_6, mode=Mode.SUBTRACT)
    extrude(amount=BOSS_EXTRU_1_DEPTH)


solid = part.part
